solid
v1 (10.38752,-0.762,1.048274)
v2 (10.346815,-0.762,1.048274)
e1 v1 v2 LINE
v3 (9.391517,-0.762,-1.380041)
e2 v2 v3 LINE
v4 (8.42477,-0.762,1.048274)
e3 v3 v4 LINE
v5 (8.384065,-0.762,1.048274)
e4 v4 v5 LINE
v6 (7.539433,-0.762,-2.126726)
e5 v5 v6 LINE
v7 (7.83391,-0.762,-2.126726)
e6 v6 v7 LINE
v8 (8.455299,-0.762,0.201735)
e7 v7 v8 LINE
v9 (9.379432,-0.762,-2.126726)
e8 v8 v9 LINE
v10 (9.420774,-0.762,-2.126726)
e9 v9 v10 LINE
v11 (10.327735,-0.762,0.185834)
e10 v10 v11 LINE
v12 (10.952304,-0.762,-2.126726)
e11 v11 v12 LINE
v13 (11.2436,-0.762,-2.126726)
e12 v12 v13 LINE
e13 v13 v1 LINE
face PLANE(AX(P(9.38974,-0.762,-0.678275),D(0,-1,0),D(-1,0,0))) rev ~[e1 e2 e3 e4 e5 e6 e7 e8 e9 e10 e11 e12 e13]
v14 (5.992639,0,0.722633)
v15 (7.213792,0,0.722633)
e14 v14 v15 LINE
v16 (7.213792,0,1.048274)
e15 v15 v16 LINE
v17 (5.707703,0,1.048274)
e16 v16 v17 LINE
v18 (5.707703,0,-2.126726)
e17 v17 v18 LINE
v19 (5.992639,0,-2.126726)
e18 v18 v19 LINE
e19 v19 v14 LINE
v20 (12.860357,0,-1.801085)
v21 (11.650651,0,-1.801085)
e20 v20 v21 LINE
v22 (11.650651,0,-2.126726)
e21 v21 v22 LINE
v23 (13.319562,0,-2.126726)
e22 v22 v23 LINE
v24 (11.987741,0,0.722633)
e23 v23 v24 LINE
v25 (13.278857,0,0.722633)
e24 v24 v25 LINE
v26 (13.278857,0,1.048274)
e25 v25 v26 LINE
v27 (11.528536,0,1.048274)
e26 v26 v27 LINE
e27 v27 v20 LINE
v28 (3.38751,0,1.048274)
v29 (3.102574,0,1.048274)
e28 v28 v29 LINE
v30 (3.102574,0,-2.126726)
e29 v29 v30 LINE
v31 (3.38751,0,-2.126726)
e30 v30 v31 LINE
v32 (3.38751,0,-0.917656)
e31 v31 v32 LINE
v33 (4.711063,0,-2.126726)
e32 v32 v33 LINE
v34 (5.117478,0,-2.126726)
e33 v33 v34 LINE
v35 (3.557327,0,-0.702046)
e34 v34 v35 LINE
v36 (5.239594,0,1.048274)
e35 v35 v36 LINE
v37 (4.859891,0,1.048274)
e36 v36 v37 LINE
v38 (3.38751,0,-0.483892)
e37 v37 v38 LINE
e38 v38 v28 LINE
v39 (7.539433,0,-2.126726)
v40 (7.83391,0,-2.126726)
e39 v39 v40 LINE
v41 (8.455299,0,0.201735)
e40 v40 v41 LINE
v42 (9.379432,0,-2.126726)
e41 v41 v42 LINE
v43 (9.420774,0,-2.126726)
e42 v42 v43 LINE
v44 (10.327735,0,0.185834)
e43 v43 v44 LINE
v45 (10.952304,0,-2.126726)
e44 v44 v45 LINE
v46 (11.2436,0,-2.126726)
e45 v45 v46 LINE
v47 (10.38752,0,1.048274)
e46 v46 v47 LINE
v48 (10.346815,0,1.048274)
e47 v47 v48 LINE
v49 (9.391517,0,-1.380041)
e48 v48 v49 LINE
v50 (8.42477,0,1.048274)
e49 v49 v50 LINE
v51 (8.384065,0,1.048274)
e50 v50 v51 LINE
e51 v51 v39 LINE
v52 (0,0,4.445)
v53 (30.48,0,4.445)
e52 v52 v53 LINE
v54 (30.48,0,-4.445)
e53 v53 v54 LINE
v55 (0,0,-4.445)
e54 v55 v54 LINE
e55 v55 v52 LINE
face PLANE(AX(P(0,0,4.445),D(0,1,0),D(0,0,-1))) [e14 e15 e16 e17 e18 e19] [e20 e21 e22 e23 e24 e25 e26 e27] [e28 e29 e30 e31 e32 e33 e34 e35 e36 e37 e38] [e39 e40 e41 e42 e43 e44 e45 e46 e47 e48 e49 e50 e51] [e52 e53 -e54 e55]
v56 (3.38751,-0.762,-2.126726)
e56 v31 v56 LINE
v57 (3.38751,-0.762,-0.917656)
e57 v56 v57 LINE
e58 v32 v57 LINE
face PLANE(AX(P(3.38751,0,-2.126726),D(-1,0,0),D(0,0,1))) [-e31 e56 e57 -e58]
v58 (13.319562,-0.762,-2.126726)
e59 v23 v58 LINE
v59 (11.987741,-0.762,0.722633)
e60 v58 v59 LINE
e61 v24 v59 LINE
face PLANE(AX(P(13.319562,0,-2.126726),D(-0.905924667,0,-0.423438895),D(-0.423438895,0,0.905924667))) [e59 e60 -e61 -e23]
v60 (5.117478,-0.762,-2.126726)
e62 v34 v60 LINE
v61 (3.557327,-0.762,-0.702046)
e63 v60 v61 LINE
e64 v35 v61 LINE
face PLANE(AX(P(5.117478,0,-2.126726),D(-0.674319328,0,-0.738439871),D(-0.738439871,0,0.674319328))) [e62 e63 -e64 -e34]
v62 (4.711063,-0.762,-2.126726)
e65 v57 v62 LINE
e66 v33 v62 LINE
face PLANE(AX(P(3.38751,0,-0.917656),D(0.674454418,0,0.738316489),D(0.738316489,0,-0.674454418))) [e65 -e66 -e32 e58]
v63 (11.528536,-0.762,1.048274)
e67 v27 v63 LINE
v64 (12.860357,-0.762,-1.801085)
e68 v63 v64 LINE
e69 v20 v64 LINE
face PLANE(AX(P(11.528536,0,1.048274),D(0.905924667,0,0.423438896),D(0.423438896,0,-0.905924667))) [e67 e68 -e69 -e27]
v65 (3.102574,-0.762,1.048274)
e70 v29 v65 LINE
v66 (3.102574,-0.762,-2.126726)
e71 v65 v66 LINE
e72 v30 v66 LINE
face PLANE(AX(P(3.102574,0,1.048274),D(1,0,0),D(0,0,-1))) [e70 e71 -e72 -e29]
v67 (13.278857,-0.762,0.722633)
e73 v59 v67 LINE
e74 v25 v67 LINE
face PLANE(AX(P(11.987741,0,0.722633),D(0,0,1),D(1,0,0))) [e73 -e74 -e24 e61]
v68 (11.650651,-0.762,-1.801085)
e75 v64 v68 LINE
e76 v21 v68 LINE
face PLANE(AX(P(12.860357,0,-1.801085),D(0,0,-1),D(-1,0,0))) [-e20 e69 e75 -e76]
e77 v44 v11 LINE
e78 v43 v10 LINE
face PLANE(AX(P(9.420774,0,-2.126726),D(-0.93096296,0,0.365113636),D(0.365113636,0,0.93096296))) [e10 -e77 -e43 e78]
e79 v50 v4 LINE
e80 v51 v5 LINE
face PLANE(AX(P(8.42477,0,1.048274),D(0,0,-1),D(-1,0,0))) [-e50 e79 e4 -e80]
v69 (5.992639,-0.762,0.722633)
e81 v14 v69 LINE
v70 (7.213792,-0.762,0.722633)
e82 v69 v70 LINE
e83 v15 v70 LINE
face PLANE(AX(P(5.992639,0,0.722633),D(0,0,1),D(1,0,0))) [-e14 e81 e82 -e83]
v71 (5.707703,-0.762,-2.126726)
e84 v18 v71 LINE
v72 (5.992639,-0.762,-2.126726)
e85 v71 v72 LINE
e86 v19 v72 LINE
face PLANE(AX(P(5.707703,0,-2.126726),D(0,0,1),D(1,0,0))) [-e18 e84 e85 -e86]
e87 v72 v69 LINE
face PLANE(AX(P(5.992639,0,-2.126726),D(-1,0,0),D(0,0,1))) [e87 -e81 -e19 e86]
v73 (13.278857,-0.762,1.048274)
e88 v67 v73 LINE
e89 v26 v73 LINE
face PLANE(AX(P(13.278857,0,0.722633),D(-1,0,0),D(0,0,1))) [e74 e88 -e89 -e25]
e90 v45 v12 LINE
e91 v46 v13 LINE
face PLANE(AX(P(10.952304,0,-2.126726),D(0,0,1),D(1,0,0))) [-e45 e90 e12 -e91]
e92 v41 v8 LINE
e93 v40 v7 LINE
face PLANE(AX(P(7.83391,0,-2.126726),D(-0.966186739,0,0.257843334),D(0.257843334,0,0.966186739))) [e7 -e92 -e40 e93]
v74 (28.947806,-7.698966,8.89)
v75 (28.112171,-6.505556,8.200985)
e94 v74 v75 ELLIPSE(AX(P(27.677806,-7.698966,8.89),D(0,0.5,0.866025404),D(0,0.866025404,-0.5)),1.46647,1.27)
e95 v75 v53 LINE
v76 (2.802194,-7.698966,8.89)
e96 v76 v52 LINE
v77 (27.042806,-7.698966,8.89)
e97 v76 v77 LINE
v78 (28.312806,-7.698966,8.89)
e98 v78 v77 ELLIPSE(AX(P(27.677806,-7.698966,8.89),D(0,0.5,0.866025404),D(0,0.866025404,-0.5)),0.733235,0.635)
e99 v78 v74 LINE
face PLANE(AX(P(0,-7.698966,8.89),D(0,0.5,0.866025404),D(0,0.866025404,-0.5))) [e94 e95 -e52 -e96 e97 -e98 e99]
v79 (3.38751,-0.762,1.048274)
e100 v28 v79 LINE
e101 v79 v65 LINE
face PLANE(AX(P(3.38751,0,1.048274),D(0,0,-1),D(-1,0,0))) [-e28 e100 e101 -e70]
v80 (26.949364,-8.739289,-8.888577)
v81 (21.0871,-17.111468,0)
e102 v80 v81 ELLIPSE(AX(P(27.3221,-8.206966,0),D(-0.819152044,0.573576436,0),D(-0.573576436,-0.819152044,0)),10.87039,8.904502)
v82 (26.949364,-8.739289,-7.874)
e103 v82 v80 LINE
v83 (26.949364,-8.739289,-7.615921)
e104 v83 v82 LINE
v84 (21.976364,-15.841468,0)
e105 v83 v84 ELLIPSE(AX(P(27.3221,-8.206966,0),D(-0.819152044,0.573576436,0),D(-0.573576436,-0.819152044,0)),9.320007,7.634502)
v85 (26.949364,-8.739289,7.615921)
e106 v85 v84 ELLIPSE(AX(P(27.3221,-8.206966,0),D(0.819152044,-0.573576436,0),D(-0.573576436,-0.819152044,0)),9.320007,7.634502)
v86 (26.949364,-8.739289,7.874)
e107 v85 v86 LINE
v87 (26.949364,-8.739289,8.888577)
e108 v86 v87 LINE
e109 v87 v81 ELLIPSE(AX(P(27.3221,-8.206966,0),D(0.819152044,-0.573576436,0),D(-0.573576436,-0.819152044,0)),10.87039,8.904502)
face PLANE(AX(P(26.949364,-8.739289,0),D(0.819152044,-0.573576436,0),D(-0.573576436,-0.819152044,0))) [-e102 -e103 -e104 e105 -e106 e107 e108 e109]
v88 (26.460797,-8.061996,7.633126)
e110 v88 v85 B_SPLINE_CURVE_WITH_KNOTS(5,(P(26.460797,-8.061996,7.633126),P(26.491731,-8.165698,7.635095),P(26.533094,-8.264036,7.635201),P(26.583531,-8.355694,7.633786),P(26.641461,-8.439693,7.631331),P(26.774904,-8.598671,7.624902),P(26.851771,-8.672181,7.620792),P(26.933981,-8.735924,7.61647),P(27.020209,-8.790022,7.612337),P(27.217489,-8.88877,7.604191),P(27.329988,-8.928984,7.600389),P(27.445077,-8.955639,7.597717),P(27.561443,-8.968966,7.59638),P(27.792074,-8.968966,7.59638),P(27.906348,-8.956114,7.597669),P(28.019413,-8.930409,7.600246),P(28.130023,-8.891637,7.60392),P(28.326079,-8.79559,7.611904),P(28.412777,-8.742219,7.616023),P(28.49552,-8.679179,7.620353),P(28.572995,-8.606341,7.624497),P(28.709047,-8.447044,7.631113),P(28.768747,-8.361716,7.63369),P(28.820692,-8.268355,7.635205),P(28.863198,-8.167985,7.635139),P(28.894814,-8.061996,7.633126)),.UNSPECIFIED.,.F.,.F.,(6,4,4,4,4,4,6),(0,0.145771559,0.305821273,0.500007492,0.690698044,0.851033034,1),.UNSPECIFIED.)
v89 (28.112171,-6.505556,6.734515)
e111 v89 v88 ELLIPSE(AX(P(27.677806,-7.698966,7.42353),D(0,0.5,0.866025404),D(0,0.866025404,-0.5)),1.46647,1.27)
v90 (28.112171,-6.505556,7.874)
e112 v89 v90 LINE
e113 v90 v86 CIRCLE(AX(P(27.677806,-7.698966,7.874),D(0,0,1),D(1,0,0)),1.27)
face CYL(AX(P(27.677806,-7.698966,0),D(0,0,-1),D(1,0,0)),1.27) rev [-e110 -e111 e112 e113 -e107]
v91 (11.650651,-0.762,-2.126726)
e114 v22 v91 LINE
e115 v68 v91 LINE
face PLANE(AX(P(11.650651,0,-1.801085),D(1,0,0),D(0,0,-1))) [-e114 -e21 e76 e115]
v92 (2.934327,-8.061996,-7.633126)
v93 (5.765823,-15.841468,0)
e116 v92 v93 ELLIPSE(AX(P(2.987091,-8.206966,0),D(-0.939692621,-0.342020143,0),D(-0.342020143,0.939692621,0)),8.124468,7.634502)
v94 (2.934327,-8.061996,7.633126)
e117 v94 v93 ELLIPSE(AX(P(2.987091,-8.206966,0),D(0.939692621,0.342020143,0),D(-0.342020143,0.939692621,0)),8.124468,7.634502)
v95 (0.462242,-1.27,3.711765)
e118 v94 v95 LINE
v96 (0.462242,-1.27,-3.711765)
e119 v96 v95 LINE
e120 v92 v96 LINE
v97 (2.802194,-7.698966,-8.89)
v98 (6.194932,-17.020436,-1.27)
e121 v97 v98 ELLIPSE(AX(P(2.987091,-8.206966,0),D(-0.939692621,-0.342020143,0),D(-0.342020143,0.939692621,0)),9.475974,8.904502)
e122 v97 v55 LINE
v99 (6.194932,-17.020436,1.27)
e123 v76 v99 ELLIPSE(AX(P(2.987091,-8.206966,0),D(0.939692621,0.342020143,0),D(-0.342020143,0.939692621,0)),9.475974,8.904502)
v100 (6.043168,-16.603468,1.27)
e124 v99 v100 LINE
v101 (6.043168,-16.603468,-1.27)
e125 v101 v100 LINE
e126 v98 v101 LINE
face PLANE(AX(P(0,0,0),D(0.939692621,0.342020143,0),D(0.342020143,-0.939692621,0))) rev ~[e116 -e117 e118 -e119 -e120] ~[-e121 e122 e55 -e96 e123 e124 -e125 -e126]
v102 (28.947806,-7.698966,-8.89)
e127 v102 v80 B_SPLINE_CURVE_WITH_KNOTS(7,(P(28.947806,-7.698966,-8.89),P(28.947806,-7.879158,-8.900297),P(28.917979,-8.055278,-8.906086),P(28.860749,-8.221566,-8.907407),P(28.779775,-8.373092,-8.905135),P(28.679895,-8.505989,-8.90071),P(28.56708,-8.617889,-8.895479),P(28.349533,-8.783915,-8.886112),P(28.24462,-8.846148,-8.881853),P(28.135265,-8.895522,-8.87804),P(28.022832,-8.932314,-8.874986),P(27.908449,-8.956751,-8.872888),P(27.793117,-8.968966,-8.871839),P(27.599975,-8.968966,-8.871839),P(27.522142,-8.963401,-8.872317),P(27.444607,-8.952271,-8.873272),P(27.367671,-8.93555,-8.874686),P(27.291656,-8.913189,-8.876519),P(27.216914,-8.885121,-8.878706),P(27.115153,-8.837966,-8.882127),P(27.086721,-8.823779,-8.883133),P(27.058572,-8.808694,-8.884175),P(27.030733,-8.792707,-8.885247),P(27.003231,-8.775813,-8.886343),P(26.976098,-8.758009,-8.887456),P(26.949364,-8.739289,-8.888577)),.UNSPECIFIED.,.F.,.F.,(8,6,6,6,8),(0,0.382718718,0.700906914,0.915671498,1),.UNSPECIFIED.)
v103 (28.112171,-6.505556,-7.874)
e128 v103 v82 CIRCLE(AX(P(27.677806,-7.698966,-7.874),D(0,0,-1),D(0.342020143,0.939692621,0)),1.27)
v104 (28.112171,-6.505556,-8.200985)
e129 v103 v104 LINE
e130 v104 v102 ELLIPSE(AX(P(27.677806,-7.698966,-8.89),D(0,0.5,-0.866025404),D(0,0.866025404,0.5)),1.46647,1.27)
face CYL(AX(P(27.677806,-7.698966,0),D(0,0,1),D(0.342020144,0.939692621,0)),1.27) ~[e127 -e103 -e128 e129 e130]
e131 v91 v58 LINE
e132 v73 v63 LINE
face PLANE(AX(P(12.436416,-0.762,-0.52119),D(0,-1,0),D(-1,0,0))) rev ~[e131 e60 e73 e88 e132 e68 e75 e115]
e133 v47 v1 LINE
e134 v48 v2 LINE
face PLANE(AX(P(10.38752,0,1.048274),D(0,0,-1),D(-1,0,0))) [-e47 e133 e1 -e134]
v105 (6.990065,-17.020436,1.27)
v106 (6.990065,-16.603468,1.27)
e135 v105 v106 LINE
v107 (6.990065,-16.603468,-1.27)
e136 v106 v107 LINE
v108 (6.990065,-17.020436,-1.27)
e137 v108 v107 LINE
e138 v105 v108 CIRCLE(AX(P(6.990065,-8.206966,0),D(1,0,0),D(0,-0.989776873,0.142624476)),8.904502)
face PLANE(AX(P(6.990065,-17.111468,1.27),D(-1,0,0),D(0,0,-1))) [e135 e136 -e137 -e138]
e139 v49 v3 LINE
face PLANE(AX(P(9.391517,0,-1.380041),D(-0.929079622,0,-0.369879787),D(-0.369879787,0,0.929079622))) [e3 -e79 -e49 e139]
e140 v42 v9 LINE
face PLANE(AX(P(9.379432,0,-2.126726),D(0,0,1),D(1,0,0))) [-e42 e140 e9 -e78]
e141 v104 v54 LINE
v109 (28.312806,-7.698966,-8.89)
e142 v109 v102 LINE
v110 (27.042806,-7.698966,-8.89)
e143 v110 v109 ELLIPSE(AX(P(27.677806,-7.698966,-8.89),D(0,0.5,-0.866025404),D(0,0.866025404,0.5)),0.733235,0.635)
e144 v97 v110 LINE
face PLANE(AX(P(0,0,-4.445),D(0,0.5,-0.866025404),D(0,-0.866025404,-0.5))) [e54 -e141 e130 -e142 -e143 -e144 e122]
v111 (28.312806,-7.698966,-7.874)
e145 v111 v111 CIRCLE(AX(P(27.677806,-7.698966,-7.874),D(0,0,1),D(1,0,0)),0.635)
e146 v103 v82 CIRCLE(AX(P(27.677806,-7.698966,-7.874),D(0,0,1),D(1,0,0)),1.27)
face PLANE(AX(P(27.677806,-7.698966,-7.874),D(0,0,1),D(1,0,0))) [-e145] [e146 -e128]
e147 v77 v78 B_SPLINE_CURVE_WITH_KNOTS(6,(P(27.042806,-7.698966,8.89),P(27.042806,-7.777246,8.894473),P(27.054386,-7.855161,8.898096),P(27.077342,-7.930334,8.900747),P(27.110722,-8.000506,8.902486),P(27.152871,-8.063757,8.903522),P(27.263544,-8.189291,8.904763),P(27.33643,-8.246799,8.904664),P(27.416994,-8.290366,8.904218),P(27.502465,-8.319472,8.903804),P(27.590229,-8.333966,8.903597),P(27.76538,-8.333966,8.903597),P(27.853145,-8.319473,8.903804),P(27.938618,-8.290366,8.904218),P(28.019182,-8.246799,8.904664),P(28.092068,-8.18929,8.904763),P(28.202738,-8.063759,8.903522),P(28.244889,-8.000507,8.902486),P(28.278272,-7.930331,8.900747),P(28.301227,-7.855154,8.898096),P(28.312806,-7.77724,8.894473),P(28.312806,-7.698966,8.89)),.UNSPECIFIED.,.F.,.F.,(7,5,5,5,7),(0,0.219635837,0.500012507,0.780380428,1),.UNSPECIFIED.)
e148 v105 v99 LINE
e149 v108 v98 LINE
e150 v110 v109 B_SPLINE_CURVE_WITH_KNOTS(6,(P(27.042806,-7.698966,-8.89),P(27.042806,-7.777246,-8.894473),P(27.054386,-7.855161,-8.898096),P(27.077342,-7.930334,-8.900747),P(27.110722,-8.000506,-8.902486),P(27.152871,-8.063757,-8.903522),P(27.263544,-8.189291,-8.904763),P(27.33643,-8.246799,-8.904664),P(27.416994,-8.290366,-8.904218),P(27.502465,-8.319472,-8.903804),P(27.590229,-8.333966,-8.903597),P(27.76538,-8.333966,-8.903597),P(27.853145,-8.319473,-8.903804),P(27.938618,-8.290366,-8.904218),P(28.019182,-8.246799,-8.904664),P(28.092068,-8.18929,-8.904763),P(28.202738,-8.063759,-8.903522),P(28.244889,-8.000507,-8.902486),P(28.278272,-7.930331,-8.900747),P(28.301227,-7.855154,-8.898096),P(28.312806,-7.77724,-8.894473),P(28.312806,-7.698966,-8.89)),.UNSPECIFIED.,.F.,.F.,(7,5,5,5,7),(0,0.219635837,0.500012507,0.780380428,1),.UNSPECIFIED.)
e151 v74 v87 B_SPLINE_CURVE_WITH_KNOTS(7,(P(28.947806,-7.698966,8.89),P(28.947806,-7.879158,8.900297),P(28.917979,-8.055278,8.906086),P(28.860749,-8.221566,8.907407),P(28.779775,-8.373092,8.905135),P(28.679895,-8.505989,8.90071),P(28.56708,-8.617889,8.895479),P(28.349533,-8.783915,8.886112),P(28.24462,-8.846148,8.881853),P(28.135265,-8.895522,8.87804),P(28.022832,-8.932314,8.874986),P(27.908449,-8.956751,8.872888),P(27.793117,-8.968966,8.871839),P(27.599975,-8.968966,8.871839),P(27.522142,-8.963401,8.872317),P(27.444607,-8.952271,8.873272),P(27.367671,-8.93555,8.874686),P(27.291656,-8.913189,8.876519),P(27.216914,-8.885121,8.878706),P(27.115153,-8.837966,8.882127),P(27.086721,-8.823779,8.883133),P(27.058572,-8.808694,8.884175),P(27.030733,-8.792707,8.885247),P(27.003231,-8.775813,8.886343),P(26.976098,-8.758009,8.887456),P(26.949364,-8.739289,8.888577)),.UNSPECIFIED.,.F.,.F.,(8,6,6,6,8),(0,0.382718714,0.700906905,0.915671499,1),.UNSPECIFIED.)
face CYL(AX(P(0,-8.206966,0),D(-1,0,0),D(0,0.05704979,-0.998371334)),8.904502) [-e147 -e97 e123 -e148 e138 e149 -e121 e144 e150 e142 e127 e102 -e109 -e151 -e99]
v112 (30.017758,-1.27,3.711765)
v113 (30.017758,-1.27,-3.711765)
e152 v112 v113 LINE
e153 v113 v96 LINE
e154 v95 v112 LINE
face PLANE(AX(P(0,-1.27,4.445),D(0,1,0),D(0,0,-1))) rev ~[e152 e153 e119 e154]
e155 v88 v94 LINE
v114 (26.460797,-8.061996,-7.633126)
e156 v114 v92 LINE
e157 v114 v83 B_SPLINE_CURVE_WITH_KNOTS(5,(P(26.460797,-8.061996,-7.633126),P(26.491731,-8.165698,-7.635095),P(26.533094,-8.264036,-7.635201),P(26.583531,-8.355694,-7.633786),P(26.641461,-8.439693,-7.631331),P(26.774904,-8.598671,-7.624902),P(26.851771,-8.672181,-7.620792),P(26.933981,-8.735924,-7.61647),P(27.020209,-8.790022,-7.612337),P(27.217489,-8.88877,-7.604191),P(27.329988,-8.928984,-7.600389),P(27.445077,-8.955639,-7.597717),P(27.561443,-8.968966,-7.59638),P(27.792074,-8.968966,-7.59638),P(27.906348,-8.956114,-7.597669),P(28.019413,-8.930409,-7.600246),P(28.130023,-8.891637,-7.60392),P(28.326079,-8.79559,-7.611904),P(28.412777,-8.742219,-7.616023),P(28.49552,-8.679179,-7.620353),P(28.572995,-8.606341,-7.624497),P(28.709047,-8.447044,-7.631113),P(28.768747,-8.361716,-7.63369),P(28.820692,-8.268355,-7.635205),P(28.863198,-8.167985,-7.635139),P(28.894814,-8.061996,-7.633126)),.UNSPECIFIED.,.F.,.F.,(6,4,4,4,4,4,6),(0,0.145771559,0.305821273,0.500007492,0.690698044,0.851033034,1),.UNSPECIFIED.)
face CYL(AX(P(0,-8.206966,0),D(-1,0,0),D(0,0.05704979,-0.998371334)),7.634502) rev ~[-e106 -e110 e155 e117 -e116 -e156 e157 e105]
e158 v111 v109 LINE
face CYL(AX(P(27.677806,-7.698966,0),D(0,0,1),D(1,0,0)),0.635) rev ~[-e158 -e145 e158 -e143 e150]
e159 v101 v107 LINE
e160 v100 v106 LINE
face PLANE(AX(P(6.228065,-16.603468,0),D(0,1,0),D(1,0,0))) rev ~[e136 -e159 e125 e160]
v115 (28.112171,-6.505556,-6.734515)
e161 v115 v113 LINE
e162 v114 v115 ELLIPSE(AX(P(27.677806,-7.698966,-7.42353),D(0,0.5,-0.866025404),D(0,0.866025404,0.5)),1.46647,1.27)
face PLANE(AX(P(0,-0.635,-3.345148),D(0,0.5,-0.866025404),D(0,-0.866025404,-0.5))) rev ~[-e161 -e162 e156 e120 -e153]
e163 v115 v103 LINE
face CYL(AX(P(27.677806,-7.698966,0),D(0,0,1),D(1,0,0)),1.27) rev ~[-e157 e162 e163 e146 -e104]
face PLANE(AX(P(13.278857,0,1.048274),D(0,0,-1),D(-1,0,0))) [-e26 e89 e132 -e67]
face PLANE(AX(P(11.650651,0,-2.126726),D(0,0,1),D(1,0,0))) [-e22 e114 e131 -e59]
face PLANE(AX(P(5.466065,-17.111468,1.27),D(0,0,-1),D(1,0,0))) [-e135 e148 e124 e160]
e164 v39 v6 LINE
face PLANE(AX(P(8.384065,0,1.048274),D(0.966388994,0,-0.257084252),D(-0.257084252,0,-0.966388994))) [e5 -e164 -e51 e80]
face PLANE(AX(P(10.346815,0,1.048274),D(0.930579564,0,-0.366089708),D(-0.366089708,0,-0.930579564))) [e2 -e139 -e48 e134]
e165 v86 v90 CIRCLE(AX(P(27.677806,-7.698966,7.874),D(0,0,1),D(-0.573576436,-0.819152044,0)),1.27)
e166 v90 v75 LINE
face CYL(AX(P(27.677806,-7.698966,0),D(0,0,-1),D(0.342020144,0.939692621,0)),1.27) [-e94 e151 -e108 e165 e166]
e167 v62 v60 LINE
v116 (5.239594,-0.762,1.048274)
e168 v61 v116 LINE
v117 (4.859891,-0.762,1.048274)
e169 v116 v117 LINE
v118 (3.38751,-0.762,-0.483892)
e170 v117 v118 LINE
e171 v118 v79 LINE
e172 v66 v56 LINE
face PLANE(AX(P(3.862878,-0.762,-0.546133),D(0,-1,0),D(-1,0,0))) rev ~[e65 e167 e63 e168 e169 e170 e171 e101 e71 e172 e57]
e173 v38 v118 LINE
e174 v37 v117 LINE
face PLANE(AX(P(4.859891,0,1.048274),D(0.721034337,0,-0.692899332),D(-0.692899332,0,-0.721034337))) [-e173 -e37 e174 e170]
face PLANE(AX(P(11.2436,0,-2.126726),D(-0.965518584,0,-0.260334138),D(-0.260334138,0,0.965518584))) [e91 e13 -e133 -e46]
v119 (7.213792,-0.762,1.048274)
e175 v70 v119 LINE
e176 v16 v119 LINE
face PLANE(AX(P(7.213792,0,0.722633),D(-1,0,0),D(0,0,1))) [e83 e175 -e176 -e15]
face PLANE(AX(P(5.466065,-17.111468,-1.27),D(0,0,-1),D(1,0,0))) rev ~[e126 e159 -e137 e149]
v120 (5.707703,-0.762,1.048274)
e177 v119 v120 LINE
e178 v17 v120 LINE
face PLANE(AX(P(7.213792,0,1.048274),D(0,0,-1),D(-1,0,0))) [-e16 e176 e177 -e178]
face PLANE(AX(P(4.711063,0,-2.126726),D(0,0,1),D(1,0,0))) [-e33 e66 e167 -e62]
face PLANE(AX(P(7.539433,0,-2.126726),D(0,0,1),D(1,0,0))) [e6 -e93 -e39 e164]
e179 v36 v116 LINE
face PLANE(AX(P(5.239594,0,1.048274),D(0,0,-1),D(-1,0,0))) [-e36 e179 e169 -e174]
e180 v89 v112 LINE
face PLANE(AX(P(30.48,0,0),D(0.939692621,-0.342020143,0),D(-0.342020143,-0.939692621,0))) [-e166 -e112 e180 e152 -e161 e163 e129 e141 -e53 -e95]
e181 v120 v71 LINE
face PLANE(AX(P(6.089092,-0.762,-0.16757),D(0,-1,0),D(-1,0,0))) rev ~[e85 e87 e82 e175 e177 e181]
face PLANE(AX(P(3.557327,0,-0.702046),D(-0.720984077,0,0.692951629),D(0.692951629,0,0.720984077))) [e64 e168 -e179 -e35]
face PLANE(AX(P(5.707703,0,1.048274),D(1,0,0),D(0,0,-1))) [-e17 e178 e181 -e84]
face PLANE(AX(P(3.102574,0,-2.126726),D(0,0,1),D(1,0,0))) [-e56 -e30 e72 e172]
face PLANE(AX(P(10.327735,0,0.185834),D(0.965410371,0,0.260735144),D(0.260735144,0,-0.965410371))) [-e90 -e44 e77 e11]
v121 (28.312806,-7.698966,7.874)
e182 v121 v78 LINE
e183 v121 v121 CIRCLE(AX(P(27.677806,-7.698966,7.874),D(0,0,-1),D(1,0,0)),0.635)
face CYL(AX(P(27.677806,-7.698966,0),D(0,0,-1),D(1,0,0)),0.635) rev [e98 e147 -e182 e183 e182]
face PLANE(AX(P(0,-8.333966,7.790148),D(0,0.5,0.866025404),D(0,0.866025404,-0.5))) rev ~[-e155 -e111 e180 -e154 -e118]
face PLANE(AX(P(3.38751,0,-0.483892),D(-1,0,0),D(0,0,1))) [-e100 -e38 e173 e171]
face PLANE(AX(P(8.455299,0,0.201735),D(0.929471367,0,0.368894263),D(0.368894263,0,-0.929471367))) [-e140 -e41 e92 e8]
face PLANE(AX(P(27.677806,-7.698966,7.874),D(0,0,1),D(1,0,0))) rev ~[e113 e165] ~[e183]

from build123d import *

# Parameters (mm, degrees)
BOSS_EXTRUDE1_DEPTH     = 30.48
SHELL1_T                = -1.27
SKETCH2_R               = 0.635
CUT_EXTRUDE1_DEPTH      = 9.904502457
CUT_EXTRUDE1_DEPTH_BACK = 9.904502457
SKETCH4_R               = 1.27
CUT_EXTRUDE3_DEPTH      = 7.874
CUT_EXTRUDE3_DEPTH_BACK = 7.874
SKETCH5_W               = 1.524
SKETCH5_H               = 2.54
CUT_EXTRUDE5_DEPTH      = 0.508
CUT_EXTRUDE2_DEPTH      = 0.762


with BuildPart() as part:
    # Sketch1 → Boss-Extrude1 (new body)
    with BuildSketch(Plane(origin=(0, 0, 0), x_dir=(0, 0, -1), z_dir=(1, 0, 0))):
        with BuildLine():
            Line((-4.445, 0), (4.445, 0))
            Line((4.445, 0), (8.89, -7.69896584))
            ThreePointArc((8.89, -7.69896584), (0, -17.111468296), (-8.89, -7.69896584))
            Line((-8.89, -7.69896584), (-4.445, 0))
        make_face()
    extrude(amount=BOSS_EXTRUDE1_DEPTH)

    # Shell1
    shell1_openings = [part.faces().sort_by_distance(p)[0] for p in [
        (30.48, -6.202608534, 0),
        (0, -6.202608534, 0),
    ]]
    offset(amount=SHELL1_T, openings=shell1_openings, kind=Kind.INTERSECTION)

    # Sketch2 → Cut-Extrude1 (cut, two sides)
    with BuildSketch(Plane.XY) as cut_extrude1_sk:
        with Locations((27.6778056, -7.69896584)):
            Circle(SKETCH2_R)
        with BuildLine():
            Line((30.48, 0), (28.112171182, -6.505556211))
            ThreePointArc((28.112171182, -6.505556211), (28.804309358, -8.285386578), (26.949363526, -8.739288936))
            Line((26.949363526, -8.739288936), (21.087100426, -17.111468296))
            Line((21.087100426, -17.111468296), (30.48, -17.111468296))
            Line((30.48, -17.111468296), (30.48, 0))
        make_face()
        Polygon((0, 0), (6.228065124, -17.111468296), (0, -17.111468296), align=None)
    extrude(amount=CUT_EXTRUDE1_DEPTH, mode=Mode.SUBTRACT)
    extrude(cut_extrude1_sk.sketch, amount=-CUT_EXTRUDE1_DEPTH_BACK, mode=Mode.SUBTRACT)

    # Sketch4 → Cut-Extrude3 (cut, two sides)
    with BuildSketch(Plane.XY) as cut_extrude3_sk:
        with Locations((27.6778056, -7.69896584)):
            Circle(SKETCH4_R)
    extrude(amount=CUT_EXTRUDE3_DEPTH, mode=Mode.SUBTRACT)
    extrude(cut_extrude3_sk.sketch, amount=-CUT_EXTRUDE3_DEPTH_BACK, mode=Mode.SUBTRACT)

    # Sketch5 → Cut-Extrude5 (cut)
    with BuildSketch(Plane(origin=(0, -17.111468296, 0), x_dir=(1, 0, 0), z_dir=(0, 1, 0))):
        with Locations((6.228065124, 0)):
            Rectangle(SKETCH5_W, SKETCH5_H)
    extrude(amount=CUT_EXTRUDE5_DEPTH, mode=Mode.SUBTRACT)

    # Sketch3 → Cut-Extrude2 (cut)
    with BuildSketch(Plane(origin=(0, 0, 0), x_dir=(1, 0, 0), z_dir=(0, 1, 0))):
        Polygon((3.102574475, 2.126725666), (3.387510372, 2.126725666), (3.387510372, 0.917656155), (4.711063057, 2.126725666), (5.117478321, 2.126725666), (3.557327079, 0.702046179), (5.239593706, -1.048274334), (4.859891182, -1.048274334), (3.387510372, 0.483892132), (3.387510372, -1.048274334), (3.102574475, -1.048274334), align=None)
        Polygon((5.70770268, 2.126725666), (5.992638577, 2.126725666), (5.992638577, -0.722633308), (7.213792424, -0.722633308), (7.213792424, -1.048274334), (5.70770268, -1.048274334), align=None)
        Polygon((7.539433449, 2.126725666), (7.833909611, 2.126725666), (8.455298834, -0.201734871), (9.379432448, 2.126725666), (9.420773594, 2.126725666), (10.327734731, -0.18583443), (10.952304042, 2.126725666), (11.243600116, 2.126725666), (10.387520388, -1.048274334), (10.34681526, -1.048274334), (9.391516783, 1.380040971), (8.424769988, -1.048274334), (8.38406486, -1.048274334), align=None)
        Polygon((11.650651398, 1.80108464), (11.650651398, 2.126725666), (13.319561654, 2.126725666), (11.987740741, -0.722633308), (13.278856526, -0.722633308), (13.278856526, -1.048274334), (11.528536013, -1.048274334), (12.860356927, 1.80108464), align=None)
    extrude(amount=-CUT_EXTRUDE2_DEPTH, mode=Mode.SUBTRACT)


solid = part.part
